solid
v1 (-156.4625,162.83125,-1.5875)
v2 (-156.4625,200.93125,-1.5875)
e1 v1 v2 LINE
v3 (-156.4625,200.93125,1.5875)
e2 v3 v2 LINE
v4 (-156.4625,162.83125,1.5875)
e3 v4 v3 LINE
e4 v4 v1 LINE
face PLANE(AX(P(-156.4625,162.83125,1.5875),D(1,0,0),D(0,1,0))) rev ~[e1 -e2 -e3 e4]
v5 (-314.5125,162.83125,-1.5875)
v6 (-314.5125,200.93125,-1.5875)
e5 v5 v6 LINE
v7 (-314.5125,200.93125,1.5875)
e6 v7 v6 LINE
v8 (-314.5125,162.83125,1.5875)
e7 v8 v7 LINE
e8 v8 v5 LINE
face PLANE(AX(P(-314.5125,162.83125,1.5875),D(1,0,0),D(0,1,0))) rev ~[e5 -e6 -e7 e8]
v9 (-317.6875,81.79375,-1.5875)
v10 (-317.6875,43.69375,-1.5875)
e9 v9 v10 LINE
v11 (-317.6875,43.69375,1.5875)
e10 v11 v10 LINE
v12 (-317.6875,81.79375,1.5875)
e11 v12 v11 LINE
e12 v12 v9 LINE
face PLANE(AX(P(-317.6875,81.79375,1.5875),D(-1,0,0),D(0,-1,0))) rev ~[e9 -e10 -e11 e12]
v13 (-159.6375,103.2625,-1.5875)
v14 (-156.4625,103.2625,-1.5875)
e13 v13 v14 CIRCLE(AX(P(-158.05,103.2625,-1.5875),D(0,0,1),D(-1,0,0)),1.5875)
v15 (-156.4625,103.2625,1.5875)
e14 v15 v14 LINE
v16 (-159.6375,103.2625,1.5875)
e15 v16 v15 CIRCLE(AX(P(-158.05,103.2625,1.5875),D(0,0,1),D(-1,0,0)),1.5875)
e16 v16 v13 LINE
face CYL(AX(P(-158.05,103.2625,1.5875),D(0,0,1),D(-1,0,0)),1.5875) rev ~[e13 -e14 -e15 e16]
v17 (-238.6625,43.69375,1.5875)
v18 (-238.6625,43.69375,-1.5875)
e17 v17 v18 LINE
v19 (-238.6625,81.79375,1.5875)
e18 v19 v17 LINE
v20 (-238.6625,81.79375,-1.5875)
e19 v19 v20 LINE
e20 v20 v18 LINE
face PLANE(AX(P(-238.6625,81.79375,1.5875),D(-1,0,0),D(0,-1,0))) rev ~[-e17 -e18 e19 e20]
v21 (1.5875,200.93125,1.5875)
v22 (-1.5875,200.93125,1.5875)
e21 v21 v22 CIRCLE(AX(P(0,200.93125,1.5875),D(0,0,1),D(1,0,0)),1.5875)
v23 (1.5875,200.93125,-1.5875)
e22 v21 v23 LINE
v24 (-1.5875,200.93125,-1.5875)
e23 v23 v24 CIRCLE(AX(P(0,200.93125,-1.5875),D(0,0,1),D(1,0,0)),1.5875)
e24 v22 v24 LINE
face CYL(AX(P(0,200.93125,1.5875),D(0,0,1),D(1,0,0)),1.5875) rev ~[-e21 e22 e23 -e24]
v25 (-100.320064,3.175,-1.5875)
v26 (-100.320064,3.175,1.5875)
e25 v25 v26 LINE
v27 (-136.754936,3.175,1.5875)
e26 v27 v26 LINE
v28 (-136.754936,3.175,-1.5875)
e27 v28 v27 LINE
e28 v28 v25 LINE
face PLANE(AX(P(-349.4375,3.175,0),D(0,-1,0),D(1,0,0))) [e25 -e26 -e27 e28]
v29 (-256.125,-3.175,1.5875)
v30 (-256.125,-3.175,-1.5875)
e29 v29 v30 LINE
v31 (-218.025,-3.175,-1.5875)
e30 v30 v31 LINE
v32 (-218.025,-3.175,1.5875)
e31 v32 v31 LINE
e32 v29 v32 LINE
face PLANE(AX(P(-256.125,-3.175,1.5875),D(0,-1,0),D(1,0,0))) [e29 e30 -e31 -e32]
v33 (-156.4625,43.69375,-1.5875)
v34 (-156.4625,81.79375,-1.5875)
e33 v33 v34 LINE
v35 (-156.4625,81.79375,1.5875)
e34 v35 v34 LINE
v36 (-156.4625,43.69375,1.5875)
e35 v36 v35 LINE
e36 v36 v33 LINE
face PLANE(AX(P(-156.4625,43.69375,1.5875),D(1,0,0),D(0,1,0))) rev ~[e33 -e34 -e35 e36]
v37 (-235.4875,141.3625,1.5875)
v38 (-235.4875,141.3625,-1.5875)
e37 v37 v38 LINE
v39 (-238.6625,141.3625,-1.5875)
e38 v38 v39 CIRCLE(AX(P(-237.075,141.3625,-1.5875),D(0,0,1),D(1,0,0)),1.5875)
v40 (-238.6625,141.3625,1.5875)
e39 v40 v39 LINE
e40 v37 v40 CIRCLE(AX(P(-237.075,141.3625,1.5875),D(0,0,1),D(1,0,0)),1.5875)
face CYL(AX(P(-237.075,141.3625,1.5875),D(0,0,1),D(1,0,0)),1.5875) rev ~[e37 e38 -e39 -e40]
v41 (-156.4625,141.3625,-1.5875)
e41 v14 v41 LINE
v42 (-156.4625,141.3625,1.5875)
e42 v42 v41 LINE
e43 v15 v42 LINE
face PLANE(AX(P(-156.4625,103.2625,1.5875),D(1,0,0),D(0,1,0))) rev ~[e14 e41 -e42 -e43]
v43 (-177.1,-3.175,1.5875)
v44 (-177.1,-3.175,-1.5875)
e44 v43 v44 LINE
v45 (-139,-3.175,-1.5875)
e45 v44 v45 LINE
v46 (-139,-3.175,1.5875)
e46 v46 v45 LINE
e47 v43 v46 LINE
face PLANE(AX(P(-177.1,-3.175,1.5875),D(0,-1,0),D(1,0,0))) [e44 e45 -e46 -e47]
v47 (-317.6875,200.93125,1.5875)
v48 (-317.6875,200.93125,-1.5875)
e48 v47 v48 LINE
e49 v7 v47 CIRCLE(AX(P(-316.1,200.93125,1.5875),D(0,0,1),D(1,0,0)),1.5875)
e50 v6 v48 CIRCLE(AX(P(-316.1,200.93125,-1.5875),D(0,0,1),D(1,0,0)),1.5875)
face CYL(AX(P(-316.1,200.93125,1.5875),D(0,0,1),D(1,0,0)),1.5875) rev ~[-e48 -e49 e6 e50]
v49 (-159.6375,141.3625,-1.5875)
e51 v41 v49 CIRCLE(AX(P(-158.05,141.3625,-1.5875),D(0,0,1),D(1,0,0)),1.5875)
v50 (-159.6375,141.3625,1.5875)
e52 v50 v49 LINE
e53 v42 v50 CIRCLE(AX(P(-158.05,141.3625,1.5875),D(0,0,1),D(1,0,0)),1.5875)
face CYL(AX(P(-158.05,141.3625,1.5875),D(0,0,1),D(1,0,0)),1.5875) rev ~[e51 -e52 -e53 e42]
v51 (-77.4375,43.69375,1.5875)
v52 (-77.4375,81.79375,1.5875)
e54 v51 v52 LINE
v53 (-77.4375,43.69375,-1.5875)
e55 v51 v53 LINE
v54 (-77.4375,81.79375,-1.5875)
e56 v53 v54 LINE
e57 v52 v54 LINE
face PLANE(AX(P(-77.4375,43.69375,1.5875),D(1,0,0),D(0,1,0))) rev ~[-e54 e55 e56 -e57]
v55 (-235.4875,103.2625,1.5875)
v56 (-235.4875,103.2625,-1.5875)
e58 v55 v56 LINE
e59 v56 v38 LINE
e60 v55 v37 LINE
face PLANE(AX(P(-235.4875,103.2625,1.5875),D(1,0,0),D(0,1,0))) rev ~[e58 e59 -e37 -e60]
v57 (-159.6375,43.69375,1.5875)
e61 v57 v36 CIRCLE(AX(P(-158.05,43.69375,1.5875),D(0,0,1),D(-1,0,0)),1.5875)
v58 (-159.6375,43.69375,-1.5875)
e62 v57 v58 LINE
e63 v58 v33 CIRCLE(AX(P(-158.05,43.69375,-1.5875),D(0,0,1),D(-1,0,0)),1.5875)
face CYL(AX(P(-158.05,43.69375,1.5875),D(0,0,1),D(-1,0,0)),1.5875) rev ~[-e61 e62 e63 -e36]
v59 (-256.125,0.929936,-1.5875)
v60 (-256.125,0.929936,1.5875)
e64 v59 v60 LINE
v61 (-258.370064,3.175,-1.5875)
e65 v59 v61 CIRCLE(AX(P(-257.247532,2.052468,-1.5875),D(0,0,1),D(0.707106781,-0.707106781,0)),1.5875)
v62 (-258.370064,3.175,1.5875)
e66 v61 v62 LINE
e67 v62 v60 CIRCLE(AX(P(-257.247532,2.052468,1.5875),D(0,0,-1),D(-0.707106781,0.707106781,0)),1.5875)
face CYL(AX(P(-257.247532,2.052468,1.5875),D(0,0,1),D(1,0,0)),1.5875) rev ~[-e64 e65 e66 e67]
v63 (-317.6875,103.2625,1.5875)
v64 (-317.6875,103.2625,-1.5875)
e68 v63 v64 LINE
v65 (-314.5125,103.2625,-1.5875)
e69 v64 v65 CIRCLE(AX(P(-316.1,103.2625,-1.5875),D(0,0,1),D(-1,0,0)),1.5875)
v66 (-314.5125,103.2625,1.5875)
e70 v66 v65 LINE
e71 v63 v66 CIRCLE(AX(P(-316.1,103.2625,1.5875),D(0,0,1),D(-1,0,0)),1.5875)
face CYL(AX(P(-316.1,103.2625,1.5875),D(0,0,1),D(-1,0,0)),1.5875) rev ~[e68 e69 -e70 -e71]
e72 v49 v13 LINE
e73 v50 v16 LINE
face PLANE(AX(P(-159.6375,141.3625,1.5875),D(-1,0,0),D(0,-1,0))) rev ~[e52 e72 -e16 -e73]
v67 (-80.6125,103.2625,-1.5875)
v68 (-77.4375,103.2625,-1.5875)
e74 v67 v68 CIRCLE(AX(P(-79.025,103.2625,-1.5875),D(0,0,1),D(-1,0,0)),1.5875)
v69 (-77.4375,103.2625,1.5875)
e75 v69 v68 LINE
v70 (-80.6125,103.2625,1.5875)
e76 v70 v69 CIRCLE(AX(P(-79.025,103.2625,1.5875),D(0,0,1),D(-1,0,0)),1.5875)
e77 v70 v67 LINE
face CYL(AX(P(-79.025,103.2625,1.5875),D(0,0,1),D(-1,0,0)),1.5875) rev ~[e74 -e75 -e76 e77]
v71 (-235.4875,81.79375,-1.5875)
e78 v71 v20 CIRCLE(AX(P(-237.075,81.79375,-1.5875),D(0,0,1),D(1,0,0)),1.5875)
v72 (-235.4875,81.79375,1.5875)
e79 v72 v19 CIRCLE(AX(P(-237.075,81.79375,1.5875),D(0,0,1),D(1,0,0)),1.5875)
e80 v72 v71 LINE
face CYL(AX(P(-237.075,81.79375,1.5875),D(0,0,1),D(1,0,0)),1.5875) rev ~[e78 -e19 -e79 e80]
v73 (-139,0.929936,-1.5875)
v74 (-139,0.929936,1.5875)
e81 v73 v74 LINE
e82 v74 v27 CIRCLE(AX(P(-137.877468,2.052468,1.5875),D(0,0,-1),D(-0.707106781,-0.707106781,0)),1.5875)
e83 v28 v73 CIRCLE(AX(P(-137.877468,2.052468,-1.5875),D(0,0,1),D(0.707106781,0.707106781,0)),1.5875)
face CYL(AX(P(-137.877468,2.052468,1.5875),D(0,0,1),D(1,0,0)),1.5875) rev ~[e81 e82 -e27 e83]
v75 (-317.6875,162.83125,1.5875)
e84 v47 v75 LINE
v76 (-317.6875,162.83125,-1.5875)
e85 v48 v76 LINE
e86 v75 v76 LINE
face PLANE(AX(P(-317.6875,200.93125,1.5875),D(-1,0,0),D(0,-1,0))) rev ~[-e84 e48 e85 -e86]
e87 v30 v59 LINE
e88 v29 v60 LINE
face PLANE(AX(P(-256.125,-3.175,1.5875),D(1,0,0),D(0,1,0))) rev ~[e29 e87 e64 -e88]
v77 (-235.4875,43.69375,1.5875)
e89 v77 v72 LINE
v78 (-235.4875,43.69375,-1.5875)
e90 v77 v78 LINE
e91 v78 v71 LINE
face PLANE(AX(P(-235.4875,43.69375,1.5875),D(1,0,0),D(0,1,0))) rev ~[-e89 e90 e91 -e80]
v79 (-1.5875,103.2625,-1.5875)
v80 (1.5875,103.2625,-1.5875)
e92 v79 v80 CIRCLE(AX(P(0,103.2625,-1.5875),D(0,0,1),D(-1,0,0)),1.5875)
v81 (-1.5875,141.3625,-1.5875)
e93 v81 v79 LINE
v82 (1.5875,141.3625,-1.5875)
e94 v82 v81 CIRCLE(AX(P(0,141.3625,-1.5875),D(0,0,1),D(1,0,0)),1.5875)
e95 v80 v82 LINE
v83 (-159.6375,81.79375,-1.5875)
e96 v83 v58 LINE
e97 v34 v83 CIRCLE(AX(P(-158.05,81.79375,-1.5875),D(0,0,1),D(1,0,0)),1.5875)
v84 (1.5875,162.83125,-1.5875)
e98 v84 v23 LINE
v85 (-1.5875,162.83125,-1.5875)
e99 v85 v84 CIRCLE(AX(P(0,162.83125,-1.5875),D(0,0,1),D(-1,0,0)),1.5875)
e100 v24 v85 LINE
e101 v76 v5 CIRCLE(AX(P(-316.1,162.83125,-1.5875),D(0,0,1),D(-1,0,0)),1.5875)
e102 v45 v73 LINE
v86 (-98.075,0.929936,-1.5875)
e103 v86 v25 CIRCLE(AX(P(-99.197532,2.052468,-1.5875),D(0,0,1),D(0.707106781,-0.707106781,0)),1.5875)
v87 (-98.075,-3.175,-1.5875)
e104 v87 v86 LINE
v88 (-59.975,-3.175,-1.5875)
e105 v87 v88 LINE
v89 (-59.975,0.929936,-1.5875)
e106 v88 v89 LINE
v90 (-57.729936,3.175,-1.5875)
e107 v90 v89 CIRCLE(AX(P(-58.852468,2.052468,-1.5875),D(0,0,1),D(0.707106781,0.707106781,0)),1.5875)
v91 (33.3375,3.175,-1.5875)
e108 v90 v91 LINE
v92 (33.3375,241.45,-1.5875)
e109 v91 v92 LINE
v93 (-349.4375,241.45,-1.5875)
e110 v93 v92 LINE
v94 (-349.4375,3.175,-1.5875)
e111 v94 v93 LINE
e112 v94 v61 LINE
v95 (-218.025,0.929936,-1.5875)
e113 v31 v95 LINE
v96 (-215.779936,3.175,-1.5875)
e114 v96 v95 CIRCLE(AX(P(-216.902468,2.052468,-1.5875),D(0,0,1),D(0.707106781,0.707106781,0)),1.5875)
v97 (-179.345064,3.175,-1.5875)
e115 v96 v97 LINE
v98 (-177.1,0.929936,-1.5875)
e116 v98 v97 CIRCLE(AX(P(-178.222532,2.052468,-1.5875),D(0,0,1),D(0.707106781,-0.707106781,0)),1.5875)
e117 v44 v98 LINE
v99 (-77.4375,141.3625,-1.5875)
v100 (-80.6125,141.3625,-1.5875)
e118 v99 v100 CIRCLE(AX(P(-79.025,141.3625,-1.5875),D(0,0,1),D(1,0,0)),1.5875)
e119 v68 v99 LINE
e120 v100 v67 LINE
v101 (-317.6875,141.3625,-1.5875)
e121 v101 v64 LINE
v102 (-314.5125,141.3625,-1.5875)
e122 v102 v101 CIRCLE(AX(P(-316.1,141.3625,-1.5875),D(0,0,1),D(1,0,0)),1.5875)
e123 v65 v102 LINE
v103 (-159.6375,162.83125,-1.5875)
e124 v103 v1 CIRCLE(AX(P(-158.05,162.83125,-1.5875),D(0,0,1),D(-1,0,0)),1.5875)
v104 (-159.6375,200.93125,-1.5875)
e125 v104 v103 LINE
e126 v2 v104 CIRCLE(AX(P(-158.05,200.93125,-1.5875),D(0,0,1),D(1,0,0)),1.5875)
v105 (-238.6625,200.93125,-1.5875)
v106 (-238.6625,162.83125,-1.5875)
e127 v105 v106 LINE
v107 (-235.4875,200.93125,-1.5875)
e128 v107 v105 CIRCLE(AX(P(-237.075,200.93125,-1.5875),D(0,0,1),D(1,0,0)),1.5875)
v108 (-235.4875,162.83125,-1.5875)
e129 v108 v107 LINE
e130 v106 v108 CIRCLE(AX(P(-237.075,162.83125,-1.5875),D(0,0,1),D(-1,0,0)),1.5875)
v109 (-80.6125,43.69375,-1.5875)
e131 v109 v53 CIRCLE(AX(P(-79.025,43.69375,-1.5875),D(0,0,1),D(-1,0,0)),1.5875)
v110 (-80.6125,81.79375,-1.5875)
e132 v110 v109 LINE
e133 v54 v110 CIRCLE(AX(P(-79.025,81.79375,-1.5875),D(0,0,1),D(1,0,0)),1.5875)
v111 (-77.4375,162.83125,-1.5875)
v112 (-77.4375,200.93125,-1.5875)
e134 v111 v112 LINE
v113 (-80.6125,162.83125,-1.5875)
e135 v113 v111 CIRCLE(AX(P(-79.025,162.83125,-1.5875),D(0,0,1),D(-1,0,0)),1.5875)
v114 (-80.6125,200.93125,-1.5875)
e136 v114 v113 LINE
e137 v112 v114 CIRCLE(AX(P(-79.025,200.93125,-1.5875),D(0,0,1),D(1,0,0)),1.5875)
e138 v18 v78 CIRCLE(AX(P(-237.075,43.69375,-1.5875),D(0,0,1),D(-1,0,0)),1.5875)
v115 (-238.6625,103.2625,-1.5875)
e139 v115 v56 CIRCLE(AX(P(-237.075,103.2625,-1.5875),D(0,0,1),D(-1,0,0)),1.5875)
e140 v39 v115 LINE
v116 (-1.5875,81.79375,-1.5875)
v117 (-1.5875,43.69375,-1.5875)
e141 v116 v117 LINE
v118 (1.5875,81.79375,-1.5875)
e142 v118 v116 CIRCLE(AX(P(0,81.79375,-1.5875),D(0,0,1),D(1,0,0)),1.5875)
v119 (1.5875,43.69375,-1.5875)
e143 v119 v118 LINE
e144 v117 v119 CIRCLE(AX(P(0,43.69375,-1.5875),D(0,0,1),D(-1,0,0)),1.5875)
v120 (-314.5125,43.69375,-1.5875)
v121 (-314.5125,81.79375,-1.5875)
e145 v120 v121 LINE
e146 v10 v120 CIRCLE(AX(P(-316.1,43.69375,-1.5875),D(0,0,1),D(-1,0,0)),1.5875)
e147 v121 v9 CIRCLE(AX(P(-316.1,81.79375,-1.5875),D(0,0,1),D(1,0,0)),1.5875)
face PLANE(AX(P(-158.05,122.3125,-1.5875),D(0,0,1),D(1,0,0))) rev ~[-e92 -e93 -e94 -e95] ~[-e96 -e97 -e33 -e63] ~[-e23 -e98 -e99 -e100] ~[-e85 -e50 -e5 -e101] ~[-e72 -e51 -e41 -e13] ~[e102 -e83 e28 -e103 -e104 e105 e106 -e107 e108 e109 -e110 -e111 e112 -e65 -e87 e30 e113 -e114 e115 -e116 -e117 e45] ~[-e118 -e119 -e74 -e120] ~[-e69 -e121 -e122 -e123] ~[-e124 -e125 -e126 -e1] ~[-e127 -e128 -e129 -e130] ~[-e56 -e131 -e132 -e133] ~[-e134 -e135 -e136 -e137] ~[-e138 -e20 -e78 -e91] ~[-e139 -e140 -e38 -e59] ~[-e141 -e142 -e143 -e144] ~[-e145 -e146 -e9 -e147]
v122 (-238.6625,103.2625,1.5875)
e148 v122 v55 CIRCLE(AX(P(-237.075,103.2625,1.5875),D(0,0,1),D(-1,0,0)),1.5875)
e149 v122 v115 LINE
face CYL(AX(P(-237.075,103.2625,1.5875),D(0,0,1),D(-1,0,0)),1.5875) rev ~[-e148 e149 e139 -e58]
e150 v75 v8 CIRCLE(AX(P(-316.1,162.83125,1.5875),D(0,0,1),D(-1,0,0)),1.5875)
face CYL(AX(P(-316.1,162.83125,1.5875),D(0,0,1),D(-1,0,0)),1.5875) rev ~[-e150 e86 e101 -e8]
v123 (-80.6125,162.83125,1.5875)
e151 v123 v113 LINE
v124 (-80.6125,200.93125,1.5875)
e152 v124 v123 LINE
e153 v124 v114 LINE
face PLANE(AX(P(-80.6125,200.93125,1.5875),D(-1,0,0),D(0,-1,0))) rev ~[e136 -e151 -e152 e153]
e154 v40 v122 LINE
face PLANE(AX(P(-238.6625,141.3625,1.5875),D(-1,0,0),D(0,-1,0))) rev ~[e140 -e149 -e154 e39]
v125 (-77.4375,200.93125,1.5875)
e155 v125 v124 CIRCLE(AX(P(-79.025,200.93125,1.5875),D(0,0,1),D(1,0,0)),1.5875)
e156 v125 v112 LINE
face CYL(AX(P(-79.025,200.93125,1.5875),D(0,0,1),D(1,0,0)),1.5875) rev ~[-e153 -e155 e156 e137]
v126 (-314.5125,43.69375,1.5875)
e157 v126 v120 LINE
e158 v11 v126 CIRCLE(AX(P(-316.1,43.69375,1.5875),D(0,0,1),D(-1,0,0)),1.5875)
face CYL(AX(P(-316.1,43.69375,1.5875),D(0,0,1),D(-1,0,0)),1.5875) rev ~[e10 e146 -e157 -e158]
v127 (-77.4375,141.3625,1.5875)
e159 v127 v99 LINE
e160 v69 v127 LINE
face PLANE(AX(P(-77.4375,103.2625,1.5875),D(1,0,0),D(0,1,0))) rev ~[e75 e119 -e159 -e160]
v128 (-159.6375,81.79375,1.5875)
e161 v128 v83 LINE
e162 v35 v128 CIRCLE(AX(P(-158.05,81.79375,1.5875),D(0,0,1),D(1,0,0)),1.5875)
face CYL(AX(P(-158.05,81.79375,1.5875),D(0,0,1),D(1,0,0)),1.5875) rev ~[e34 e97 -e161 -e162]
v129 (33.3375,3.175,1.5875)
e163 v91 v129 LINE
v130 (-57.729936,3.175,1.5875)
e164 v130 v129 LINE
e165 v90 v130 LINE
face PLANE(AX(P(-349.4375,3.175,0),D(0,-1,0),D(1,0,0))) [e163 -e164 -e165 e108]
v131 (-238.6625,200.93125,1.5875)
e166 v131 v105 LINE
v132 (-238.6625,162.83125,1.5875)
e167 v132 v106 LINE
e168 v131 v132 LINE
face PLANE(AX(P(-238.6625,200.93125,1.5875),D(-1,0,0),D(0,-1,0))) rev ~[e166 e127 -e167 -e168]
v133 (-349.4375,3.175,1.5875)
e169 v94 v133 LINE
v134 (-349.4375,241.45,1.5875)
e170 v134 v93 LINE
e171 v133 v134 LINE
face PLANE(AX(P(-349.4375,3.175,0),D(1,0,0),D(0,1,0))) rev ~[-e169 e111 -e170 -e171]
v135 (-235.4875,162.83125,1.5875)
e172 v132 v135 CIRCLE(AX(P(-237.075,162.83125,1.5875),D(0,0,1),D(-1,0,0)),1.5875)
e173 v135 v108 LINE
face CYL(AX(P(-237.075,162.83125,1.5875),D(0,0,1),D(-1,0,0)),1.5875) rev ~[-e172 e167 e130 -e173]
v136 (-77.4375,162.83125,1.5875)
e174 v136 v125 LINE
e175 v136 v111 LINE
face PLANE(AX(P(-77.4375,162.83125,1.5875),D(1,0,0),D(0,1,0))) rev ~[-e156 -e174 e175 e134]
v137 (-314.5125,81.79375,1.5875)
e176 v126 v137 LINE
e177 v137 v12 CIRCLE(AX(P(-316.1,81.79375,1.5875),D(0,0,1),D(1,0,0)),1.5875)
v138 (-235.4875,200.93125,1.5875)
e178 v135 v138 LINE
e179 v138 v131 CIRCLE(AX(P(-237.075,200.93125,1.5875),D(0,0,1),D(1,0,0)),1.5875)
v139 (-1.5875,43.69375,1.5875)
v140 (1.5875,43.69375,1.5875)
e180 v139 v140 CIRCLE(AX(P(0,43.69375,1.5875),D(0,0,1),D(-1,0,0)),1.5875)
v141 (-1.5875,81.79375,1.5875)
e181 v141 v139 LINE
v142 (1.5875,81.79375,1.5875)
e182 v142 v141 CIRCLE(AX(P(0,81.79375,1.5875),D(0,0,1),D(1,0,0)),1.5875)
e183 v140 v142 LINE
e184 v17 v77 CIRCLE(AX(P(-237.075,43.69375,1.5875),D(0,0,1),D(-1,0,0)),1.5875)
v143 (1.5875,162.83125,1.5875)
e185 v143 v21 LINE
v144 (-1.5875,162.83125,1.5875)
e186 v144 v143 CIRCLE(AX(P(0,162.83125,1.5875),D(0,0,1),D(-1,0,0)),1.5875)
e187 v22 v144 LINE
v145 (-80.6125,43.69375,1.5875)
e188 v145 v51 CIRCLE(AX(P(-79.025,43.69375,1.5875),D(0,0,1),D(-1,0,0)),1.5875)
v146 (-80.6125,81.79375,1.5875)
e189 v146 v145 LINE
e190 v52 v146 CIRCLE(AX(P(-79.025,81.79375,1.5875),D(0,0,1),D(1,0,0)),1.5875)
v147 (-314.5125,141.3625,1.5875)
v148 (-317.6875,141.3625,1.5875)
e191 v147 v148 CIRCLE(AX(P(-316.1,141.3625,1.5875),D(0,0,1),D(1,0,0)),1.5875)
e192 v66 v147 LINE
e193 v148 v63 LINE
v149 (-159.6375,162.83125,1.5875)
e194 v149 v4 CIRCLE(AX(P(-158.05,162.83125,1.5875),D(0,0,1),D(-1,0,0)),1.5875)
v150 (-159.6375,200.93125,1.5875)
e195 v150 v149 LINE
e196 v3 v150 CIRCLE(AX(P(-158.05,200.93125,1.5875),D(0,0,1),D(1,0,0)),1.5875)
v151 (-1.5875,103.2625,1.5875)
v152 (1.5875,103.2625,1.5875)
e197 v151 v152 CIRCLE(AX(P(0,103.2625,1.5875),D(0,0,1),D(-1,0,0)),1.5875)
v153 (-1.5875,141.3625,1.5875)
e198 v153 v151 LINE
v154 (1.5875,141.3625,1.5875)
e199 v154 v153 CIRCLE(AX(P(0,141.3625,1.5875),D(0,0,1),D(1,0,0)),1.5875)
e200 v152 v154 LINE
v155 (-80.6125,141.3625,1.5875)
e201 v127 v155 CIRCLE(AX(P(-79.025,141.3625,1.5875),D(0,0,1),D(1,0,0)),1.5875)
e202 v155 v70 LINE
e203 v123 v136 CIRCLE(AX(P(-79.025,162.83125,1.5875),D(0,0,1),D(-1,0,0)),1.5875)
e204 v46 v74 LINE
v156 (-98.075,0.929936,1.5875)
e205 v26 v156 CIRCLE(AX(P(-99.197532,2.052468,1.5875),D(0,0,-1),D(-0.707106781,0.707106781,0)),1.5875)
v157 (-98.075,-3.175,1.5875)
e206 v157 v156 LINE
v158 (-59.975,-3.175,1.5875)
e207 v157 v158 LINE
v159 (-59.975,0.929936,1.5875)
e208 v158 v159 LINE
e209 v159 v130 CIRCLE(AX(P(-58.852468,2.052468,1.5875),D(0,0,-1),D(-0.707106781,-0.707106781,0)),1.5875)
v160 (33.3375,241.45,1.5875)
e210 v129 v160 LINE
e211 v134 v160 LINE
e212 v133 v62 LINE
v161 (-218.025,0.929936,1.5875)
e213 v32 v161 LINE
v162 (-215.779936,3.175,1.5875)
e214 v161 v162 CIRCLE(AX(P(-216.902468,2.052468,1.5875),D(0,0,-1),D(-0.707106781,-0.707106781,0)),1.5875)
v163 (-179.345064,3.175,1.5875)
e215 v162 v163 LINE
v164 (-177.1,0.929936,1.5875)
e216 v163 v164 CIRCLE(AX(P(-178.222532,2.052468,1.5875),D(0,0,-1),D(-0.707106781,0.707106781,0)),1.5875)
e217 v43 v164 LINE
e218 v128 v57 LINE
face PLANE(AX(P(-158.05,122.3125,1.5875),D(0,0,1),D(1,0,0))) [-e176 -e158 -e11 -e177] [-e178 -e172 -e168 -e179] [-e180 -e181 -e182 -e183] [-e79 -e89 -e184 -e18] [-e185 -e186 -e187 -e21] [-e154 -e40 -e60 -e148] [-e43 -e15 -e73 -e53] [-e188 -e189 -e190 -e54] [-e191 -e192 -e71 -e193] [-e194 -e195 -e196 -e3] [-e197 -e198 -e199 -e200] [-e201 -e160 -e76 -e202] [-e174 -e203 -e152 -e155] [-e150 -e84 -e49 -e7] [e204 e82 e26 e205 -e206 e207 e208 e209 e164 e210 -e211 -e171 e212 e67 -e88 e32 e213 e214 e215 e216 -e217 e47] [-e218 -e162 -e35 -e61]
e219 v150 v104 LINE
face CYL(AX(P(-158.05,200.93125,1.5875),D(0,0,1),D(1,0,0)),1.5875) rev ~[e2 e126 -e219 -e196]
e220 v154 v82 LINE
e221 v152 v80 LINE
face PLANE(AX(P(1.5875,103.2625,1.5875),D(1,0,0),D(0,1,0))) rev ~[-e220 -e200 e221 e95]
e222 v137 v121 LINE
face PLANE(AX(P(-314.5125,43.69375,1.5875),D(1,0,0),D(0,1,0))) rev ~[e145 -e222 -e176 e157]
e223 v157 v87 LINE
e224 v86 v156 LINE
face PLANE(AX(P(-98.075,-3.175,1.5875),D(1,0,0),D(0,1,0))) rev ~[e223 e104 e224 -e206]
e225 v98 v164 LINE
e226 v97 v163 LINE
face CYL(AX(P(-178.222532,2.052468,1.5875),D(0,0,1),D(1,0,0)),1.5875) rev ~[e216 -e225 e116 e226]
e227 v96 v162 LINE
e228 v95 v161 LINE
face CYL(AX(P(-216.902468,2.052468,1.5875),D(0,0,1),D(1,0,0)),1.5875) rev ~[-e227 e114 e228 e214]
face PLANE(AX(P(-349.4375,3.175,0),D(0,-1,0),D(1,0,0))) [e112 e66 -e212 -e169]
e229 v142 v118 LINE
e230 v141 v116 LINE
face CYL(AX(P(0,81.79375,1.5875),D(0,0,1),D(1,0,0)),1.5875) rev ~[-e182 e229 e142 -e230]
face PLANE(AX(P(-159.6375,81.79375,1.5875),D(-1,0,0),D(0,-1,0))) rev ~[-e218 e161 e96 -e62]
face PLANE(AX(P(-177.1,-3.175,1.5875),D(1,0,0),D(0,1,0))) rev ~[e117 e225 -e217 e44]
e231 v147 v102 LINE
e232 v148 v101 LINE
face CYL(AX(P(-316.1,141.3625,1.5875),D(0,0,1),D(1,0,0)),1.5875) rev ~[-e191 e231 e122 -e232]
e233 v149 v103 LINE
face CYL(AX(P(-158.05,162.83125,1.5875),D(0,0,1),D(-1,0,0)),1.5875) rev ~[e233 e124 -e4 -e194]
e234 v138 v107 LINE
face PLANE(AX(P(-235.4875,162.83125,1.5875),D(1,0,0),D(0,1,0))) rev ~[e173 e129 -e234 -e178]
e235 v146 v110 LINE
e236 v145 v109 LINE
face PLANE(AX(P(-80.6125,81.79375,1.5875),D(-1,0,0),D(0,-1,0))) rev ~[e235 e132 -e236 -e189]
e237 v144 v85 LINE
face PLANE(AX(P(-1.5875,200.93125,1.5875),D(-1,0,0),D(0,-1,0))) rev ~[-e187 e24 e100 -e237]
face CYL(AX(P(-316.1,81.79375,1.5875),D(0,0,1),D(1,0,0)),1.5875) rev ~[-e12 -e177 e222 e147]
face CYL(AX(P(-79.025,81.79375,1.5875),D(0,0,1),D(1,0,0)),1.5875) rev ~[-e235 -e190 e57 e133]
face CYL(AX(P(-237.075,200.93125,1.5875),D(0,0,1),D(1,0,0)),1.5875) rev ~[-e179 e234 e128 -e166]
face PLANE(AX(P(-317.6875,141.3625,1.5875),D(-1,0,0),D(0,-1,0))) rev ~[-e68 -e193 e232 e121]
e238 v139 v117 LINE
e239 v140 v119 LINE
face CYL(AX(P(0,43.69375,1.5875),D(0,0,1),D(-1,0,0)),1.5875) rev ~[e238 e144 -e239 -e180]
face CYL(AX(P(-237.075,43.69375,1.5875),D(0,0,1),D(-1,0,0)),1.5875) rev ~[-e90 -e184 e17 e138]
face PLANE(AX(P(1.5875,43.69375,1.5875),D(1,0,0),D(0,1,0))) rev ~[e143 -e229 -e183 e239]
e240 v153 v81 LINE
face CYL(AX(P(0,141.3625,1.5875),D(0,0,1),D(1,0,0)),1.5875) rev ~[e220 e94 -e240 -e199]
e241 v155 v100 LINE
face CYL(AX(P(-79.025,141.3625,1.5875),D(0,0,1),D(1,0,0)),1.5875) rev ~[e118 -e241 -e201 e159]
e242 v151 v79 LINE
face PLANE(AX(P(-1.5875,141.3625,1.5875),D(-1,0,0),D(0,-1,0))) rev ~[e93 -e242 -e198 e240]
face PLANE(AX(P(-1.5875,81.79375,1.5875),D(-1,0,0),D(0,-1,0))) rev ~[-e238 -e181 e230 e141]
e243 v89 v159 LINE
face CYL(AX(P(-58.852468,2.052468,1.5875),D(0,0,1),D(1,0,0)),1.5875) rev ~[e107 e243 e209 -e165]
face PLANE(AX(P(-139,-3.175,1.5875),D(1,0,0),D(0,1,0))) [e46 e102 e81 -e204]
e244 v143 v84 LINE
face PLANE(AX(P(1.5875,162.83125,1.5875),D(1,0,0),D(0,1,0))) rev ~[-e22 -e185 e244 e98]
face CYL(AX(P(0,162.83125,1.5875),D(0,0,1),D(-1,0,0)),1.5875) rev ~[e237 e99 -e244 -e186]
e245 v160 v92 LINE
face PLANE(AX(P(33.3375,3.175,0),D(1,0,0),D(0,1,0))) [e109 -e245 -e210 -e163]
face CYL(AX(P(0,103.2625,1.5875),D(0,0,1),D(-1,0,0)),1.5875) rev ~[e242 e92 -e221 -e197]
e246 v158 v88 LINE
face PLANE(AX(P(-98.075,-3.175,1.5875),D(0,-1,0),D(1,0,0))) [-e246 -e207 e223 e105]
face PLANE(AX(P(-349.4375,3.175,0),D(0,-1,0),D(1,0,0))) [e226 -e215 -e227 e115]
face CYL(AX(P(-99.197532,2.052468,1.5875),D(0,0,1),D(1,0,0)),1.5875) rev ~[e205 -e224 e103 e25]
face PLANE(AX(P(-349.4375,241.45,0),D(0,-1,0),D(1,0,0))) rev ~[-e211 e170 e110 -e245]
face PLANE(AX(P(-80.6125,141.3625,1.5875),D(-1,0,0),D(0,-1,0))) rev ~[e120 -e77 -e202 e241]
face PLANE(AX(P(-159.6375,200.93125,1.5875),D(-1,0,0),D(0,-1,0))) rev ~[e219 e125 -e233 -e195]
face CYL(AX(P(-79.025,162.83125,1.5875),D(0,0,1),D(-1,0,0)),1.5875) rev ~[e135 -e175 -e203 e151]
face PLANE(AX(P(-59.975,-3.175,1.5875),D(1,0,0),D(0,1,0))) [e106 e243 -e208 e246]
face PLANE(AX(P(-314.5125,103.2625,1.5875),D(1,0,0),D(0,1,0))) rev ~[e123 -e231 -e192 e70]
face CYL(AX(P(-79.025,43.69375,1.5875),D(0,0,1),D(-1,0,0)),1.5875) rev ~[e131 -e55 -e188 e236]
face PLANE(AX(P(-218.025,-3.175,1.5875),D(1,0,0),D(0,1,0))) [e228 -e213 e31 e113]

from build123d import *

# Parameters (mm, degrees)
SKETCH1_W                     = 382.775
SKETCH1_H                     = 238.275
BOSS_EXTRUDE1_DEPTH           = 1.5875
SKETCH3_W                     = 38.1
SKETCH3_H                     = 6.35
WELD_TABS_EXTRUDE_DEPTH       = 3.175
SKETCH4_R                     = 1.5875
WELD_TABS_TEAR_DROP_CUT_DEPTH = 3.175
WELD_TABS_CUTOUT_DEPTH        = 3.175


with BuildPart() as part:
    # Sketch1 → Boss-Extrude1 (new body, symmetric)
    with BuildSketch(Plane.XY):
        with Locations((-158.05, 122.3125)):
            Rectangle(SKETCH1_W, SKETCH1_H)
    extrude(amount=BOSS_EXTRUDE1_DEPTH, both=True)

    # Sketch3 → Weld Tabs Extrude (add)
    with BuildSketch(Plane.XY.offset(1.5875)):
        with Locations((-237.075, 0)):
            Rectangle(SKETCH3_W, SKETCH3_H)
        with Locations((-158.05, 0)):
            Rectangle(SKETCH3_W, SKETCH3_H)
        with Locations((-79.025, 0)):
            Rectangle(SKETCH3_W, SKETCH3_H)
    extrude(amount=-WELD_TABS_EXTRUDE_DEPTH)

    # Sketch4 → Weld Tabs Tear Drop Cut (cut)
    with BuildSketch(Plane.XY.offset(1.5875)):
        with Locations((-257.247532015, 2.052467985)):
            Circle(SKETCH4_R)
        with Locations((-216.902467985, 2.052467985)):
            Circle(SKETCH4_R)
        with Locations((-178.222532015, 2.052467985)):
            Circle(SKETCH4_R)
        with Locations((-137.877467985, 2.052467985)):
            Circle(SKETCH4_R)
        with Locations((-99.197532015, 2.052467985)):
            Circle(SKETCH4_R)
        with Locations((-58.852467985, 2.052467985)):
            Circle(SKETCH4_R)
    extrude(amount=-WELD_TABS_TEAR_DROP_CUT_DEPTH, mode=Mode.SUBTRACT)

    # Sketch6 → Weld Tabs Cutout (cut)
    with BuildSketch(Plane.XY.offset(1.5875)):
        with BuildLine():
            Line((-238.6625, 200.93125), (-238.6625, 162.83125))
            ThreePointArc((-238.6625, 162.83125), (-237.075, 161.24375), (-235.4875, 162.83125))
            Line((-235.4875, 162.83125), (-235.4875, 200.93125))
            ThreePointArc((-235.4875, 200.93125), (-237.075, 202.51875), (-238.6625, 200.93125))
        make_face()
        with BuildLine():
            Line((-317.6875, 200.93125), (-317.6875, 162.83125))
            ThreePointArc((-317.6875, 162.83125), (-316.1, 161.24375), (-314.5125, 162.83125))
            Line((-314.5125, 162.83125), (-314.5125, 200.93125))
            ThreePointArc((-314.5125, 200.93125), (-316.1, 202.51875), (-317.6875, 200.93125))
        make_face()
        with BuildLine():
            Line((-159.6375, 200.93125), (-159.6375, 162.83125))
            ThreePointArc((-159.6375, 162.83125), (-158.05, 161.24375), (-156.4625, 162.83125))
            Line((-156.4625, 162.83125), (-156.4625, 200.93125))
            ThreePointArc((-156.4625, 200.93125), (-158.05, 202.51875), (-159.6375, 200.93125))
        make_face()
        with BuildLine():
            Line((-80.6125, 200.93125), (-80.6125, 162.83125))
            ThreePointArc((-80.6125, 162.83125), (-79.025, 161.24375), (-77.4375, 162.83125))
            Line((-77.4375, 162.83125), (-77.4375, 200.93125))
            ThreePointArc((-77.4375, 200.93125), (-79.025, 202.51875), (-80.6125, 200.93125))
        make_face()
        with BuildLine():
            Line((-1.5875, 200.93125), (-1.5875, 162.83125))
            ThreePointArc((-1.5875, 162.83125), (0, 161.24375), (1.5875, 162.83125))
            Line((1.5875, 162.83125), (1.5875, 200.93125))
            ThreePointArc((1.5875, 200.93125), (0, 202.51875), (-1.5875, 200.93125))
        make_face()
        with BuildLine():
            Line((-238.6625, 141.3625), (-238.6625, 103.2625))
            ThreePointArc((-238.6625, 103.2625), (-237.075, 101.675), (-235.4875, 103.2625))
            Line((-235.4875, 103.2625), (-235.4875, 141.3625))
            ThreePointArc((-235.4875, 141.3625), (-237.075, 142.95), (-238.6625, 141.3625))
        make_face()
        with BuildLine():
            Line((-159.6375, 141.3625), (-159.6375, 103.2625))
            ThreePointArc((-159.6375, 103.2625), (-158.05, 101.675), (-156.4625, 103.2625))
            Line((-156.4625, 103.2625), (-156.4625, 141.3625))
            ThreePointArc((-156.4625, 141.3625), (-158.05, 142.95), (-159.6375, 141.3625))
        make_face()
        with BuildLine():
            Line((-80.6125, 141.3625), (-80.6125, 103.2625))
            ThreePointArc((-80.6125, 103.2625), (-79.025, 101.675), (-77.4375, 103.2625))
            Line((-77.4375, 103.2625), (-77.4375, 141.3625))
            ThreePointArc((-77.4375, 141.3625), (-79.025, 142.95), (-80.6125, 141.3625))
        make_face()
        with BuildLine():
            Line((-1.5875, 141.3625), (-1.5875, 103.2625))
            ThreePointArc((-1.5875, 103.2625), (0, 101.675), (1.5875, 103.2625))
            Line((1.5875, 103.2625), (1.5875, 141.3625))
            ThreePointArc((1.5875, 141.3625), (0, 142.95), (-1.5875, 141.3625))
        make_face()
        with BuildLine():
            Line((-238.6625, 81.79375), (-238.6625, 43.69375))
            ThreePointArc((-238.6625, 43.69375), (-237.075, 42.10625), (-235.4875, 43.69375))
            Line((-235.4875, 43.69375), (-235.4875, 81.79375))
            ThreePointArc((-235.4875, 81.79375), (-237.075, 83.38125), (-238.6625, 81.79375))
        make_face()
        with BuildLine():
            Line((-159.6375, 81.79375), (-159.6375, 43.69375))
            ThreePointArc((-159.6375, 43.69375), (-158.05, 42.10625), (-156.4625, 43.69375))
            Line((-156.4625, 43.69375), (-156.4625, 81.79375))
            ThreePointArc((-156.4625, 81.79375), (-158.05, 83.38125), (-159.6375, 81.79375))
        make_face()
        with BuildLine():
            Line((-80.6125, 81.79375), (-80.6125, 43.69375))
            ThreePointArc((-80.6125, 43.69375), (-79.025, 42.10625), (-77.4375, 43.69375))
            Line((-77.4375, 43.69375), (-77.4375, 81.79375))
            ThreePointArc((-77.4375, 81.79375), (-79.025, 83.38125), (-80.6125, 81.79375))
        make_face()
        with BuildLine():
            Line((-1.5875, 81.79375), (-1.5875, 43.69375))
            ThreePointArc((-1.5875, 43.69375), (0, 42.10625), (1.5875, 43.69375))
            Line((1.5875, 43.69375), (1.5875, 81.79375))
            ThreePointArc((1.5875, 81.79375), (0, 83.38125), (-1.5875, 81.79375))
        make_face()
        with BuildLine():
            Line((-317.6875, 141.3625), (-317.6875, 103.2625))
            ThreePointArc((-317.6875, 103.2625), (-316.1, 101.675), (-314.5125, 103.2625))
            Line((-314.5125, 103.2625), (-314.5125, 141.3625))
            ThreePointArc((-314.5125, 141.3625), (-316.1, 142.95), (-317.6875, 141.3625))
        make_face()
        with BuildLine():
            Line((-317.6875, 81.79375), (-317.6875, 43.69375))
            ThreePointArc((-317.6875, 43.69375), (-316.1, 42.10625), (-314.5125, 43.69375))
            Line((-314.5125, 43.69375), (-314.5125, 81.79375))
            ThreePointArc((-314.5125, 81.79375), (-316.1, 83.38125), (-317.6875, 81.79375))
        make_face()
    extrude(amount=-WELD_TABS_CUTOUT_DEPTH, mode=Mode.SUBTRACT)


solid = part.part
